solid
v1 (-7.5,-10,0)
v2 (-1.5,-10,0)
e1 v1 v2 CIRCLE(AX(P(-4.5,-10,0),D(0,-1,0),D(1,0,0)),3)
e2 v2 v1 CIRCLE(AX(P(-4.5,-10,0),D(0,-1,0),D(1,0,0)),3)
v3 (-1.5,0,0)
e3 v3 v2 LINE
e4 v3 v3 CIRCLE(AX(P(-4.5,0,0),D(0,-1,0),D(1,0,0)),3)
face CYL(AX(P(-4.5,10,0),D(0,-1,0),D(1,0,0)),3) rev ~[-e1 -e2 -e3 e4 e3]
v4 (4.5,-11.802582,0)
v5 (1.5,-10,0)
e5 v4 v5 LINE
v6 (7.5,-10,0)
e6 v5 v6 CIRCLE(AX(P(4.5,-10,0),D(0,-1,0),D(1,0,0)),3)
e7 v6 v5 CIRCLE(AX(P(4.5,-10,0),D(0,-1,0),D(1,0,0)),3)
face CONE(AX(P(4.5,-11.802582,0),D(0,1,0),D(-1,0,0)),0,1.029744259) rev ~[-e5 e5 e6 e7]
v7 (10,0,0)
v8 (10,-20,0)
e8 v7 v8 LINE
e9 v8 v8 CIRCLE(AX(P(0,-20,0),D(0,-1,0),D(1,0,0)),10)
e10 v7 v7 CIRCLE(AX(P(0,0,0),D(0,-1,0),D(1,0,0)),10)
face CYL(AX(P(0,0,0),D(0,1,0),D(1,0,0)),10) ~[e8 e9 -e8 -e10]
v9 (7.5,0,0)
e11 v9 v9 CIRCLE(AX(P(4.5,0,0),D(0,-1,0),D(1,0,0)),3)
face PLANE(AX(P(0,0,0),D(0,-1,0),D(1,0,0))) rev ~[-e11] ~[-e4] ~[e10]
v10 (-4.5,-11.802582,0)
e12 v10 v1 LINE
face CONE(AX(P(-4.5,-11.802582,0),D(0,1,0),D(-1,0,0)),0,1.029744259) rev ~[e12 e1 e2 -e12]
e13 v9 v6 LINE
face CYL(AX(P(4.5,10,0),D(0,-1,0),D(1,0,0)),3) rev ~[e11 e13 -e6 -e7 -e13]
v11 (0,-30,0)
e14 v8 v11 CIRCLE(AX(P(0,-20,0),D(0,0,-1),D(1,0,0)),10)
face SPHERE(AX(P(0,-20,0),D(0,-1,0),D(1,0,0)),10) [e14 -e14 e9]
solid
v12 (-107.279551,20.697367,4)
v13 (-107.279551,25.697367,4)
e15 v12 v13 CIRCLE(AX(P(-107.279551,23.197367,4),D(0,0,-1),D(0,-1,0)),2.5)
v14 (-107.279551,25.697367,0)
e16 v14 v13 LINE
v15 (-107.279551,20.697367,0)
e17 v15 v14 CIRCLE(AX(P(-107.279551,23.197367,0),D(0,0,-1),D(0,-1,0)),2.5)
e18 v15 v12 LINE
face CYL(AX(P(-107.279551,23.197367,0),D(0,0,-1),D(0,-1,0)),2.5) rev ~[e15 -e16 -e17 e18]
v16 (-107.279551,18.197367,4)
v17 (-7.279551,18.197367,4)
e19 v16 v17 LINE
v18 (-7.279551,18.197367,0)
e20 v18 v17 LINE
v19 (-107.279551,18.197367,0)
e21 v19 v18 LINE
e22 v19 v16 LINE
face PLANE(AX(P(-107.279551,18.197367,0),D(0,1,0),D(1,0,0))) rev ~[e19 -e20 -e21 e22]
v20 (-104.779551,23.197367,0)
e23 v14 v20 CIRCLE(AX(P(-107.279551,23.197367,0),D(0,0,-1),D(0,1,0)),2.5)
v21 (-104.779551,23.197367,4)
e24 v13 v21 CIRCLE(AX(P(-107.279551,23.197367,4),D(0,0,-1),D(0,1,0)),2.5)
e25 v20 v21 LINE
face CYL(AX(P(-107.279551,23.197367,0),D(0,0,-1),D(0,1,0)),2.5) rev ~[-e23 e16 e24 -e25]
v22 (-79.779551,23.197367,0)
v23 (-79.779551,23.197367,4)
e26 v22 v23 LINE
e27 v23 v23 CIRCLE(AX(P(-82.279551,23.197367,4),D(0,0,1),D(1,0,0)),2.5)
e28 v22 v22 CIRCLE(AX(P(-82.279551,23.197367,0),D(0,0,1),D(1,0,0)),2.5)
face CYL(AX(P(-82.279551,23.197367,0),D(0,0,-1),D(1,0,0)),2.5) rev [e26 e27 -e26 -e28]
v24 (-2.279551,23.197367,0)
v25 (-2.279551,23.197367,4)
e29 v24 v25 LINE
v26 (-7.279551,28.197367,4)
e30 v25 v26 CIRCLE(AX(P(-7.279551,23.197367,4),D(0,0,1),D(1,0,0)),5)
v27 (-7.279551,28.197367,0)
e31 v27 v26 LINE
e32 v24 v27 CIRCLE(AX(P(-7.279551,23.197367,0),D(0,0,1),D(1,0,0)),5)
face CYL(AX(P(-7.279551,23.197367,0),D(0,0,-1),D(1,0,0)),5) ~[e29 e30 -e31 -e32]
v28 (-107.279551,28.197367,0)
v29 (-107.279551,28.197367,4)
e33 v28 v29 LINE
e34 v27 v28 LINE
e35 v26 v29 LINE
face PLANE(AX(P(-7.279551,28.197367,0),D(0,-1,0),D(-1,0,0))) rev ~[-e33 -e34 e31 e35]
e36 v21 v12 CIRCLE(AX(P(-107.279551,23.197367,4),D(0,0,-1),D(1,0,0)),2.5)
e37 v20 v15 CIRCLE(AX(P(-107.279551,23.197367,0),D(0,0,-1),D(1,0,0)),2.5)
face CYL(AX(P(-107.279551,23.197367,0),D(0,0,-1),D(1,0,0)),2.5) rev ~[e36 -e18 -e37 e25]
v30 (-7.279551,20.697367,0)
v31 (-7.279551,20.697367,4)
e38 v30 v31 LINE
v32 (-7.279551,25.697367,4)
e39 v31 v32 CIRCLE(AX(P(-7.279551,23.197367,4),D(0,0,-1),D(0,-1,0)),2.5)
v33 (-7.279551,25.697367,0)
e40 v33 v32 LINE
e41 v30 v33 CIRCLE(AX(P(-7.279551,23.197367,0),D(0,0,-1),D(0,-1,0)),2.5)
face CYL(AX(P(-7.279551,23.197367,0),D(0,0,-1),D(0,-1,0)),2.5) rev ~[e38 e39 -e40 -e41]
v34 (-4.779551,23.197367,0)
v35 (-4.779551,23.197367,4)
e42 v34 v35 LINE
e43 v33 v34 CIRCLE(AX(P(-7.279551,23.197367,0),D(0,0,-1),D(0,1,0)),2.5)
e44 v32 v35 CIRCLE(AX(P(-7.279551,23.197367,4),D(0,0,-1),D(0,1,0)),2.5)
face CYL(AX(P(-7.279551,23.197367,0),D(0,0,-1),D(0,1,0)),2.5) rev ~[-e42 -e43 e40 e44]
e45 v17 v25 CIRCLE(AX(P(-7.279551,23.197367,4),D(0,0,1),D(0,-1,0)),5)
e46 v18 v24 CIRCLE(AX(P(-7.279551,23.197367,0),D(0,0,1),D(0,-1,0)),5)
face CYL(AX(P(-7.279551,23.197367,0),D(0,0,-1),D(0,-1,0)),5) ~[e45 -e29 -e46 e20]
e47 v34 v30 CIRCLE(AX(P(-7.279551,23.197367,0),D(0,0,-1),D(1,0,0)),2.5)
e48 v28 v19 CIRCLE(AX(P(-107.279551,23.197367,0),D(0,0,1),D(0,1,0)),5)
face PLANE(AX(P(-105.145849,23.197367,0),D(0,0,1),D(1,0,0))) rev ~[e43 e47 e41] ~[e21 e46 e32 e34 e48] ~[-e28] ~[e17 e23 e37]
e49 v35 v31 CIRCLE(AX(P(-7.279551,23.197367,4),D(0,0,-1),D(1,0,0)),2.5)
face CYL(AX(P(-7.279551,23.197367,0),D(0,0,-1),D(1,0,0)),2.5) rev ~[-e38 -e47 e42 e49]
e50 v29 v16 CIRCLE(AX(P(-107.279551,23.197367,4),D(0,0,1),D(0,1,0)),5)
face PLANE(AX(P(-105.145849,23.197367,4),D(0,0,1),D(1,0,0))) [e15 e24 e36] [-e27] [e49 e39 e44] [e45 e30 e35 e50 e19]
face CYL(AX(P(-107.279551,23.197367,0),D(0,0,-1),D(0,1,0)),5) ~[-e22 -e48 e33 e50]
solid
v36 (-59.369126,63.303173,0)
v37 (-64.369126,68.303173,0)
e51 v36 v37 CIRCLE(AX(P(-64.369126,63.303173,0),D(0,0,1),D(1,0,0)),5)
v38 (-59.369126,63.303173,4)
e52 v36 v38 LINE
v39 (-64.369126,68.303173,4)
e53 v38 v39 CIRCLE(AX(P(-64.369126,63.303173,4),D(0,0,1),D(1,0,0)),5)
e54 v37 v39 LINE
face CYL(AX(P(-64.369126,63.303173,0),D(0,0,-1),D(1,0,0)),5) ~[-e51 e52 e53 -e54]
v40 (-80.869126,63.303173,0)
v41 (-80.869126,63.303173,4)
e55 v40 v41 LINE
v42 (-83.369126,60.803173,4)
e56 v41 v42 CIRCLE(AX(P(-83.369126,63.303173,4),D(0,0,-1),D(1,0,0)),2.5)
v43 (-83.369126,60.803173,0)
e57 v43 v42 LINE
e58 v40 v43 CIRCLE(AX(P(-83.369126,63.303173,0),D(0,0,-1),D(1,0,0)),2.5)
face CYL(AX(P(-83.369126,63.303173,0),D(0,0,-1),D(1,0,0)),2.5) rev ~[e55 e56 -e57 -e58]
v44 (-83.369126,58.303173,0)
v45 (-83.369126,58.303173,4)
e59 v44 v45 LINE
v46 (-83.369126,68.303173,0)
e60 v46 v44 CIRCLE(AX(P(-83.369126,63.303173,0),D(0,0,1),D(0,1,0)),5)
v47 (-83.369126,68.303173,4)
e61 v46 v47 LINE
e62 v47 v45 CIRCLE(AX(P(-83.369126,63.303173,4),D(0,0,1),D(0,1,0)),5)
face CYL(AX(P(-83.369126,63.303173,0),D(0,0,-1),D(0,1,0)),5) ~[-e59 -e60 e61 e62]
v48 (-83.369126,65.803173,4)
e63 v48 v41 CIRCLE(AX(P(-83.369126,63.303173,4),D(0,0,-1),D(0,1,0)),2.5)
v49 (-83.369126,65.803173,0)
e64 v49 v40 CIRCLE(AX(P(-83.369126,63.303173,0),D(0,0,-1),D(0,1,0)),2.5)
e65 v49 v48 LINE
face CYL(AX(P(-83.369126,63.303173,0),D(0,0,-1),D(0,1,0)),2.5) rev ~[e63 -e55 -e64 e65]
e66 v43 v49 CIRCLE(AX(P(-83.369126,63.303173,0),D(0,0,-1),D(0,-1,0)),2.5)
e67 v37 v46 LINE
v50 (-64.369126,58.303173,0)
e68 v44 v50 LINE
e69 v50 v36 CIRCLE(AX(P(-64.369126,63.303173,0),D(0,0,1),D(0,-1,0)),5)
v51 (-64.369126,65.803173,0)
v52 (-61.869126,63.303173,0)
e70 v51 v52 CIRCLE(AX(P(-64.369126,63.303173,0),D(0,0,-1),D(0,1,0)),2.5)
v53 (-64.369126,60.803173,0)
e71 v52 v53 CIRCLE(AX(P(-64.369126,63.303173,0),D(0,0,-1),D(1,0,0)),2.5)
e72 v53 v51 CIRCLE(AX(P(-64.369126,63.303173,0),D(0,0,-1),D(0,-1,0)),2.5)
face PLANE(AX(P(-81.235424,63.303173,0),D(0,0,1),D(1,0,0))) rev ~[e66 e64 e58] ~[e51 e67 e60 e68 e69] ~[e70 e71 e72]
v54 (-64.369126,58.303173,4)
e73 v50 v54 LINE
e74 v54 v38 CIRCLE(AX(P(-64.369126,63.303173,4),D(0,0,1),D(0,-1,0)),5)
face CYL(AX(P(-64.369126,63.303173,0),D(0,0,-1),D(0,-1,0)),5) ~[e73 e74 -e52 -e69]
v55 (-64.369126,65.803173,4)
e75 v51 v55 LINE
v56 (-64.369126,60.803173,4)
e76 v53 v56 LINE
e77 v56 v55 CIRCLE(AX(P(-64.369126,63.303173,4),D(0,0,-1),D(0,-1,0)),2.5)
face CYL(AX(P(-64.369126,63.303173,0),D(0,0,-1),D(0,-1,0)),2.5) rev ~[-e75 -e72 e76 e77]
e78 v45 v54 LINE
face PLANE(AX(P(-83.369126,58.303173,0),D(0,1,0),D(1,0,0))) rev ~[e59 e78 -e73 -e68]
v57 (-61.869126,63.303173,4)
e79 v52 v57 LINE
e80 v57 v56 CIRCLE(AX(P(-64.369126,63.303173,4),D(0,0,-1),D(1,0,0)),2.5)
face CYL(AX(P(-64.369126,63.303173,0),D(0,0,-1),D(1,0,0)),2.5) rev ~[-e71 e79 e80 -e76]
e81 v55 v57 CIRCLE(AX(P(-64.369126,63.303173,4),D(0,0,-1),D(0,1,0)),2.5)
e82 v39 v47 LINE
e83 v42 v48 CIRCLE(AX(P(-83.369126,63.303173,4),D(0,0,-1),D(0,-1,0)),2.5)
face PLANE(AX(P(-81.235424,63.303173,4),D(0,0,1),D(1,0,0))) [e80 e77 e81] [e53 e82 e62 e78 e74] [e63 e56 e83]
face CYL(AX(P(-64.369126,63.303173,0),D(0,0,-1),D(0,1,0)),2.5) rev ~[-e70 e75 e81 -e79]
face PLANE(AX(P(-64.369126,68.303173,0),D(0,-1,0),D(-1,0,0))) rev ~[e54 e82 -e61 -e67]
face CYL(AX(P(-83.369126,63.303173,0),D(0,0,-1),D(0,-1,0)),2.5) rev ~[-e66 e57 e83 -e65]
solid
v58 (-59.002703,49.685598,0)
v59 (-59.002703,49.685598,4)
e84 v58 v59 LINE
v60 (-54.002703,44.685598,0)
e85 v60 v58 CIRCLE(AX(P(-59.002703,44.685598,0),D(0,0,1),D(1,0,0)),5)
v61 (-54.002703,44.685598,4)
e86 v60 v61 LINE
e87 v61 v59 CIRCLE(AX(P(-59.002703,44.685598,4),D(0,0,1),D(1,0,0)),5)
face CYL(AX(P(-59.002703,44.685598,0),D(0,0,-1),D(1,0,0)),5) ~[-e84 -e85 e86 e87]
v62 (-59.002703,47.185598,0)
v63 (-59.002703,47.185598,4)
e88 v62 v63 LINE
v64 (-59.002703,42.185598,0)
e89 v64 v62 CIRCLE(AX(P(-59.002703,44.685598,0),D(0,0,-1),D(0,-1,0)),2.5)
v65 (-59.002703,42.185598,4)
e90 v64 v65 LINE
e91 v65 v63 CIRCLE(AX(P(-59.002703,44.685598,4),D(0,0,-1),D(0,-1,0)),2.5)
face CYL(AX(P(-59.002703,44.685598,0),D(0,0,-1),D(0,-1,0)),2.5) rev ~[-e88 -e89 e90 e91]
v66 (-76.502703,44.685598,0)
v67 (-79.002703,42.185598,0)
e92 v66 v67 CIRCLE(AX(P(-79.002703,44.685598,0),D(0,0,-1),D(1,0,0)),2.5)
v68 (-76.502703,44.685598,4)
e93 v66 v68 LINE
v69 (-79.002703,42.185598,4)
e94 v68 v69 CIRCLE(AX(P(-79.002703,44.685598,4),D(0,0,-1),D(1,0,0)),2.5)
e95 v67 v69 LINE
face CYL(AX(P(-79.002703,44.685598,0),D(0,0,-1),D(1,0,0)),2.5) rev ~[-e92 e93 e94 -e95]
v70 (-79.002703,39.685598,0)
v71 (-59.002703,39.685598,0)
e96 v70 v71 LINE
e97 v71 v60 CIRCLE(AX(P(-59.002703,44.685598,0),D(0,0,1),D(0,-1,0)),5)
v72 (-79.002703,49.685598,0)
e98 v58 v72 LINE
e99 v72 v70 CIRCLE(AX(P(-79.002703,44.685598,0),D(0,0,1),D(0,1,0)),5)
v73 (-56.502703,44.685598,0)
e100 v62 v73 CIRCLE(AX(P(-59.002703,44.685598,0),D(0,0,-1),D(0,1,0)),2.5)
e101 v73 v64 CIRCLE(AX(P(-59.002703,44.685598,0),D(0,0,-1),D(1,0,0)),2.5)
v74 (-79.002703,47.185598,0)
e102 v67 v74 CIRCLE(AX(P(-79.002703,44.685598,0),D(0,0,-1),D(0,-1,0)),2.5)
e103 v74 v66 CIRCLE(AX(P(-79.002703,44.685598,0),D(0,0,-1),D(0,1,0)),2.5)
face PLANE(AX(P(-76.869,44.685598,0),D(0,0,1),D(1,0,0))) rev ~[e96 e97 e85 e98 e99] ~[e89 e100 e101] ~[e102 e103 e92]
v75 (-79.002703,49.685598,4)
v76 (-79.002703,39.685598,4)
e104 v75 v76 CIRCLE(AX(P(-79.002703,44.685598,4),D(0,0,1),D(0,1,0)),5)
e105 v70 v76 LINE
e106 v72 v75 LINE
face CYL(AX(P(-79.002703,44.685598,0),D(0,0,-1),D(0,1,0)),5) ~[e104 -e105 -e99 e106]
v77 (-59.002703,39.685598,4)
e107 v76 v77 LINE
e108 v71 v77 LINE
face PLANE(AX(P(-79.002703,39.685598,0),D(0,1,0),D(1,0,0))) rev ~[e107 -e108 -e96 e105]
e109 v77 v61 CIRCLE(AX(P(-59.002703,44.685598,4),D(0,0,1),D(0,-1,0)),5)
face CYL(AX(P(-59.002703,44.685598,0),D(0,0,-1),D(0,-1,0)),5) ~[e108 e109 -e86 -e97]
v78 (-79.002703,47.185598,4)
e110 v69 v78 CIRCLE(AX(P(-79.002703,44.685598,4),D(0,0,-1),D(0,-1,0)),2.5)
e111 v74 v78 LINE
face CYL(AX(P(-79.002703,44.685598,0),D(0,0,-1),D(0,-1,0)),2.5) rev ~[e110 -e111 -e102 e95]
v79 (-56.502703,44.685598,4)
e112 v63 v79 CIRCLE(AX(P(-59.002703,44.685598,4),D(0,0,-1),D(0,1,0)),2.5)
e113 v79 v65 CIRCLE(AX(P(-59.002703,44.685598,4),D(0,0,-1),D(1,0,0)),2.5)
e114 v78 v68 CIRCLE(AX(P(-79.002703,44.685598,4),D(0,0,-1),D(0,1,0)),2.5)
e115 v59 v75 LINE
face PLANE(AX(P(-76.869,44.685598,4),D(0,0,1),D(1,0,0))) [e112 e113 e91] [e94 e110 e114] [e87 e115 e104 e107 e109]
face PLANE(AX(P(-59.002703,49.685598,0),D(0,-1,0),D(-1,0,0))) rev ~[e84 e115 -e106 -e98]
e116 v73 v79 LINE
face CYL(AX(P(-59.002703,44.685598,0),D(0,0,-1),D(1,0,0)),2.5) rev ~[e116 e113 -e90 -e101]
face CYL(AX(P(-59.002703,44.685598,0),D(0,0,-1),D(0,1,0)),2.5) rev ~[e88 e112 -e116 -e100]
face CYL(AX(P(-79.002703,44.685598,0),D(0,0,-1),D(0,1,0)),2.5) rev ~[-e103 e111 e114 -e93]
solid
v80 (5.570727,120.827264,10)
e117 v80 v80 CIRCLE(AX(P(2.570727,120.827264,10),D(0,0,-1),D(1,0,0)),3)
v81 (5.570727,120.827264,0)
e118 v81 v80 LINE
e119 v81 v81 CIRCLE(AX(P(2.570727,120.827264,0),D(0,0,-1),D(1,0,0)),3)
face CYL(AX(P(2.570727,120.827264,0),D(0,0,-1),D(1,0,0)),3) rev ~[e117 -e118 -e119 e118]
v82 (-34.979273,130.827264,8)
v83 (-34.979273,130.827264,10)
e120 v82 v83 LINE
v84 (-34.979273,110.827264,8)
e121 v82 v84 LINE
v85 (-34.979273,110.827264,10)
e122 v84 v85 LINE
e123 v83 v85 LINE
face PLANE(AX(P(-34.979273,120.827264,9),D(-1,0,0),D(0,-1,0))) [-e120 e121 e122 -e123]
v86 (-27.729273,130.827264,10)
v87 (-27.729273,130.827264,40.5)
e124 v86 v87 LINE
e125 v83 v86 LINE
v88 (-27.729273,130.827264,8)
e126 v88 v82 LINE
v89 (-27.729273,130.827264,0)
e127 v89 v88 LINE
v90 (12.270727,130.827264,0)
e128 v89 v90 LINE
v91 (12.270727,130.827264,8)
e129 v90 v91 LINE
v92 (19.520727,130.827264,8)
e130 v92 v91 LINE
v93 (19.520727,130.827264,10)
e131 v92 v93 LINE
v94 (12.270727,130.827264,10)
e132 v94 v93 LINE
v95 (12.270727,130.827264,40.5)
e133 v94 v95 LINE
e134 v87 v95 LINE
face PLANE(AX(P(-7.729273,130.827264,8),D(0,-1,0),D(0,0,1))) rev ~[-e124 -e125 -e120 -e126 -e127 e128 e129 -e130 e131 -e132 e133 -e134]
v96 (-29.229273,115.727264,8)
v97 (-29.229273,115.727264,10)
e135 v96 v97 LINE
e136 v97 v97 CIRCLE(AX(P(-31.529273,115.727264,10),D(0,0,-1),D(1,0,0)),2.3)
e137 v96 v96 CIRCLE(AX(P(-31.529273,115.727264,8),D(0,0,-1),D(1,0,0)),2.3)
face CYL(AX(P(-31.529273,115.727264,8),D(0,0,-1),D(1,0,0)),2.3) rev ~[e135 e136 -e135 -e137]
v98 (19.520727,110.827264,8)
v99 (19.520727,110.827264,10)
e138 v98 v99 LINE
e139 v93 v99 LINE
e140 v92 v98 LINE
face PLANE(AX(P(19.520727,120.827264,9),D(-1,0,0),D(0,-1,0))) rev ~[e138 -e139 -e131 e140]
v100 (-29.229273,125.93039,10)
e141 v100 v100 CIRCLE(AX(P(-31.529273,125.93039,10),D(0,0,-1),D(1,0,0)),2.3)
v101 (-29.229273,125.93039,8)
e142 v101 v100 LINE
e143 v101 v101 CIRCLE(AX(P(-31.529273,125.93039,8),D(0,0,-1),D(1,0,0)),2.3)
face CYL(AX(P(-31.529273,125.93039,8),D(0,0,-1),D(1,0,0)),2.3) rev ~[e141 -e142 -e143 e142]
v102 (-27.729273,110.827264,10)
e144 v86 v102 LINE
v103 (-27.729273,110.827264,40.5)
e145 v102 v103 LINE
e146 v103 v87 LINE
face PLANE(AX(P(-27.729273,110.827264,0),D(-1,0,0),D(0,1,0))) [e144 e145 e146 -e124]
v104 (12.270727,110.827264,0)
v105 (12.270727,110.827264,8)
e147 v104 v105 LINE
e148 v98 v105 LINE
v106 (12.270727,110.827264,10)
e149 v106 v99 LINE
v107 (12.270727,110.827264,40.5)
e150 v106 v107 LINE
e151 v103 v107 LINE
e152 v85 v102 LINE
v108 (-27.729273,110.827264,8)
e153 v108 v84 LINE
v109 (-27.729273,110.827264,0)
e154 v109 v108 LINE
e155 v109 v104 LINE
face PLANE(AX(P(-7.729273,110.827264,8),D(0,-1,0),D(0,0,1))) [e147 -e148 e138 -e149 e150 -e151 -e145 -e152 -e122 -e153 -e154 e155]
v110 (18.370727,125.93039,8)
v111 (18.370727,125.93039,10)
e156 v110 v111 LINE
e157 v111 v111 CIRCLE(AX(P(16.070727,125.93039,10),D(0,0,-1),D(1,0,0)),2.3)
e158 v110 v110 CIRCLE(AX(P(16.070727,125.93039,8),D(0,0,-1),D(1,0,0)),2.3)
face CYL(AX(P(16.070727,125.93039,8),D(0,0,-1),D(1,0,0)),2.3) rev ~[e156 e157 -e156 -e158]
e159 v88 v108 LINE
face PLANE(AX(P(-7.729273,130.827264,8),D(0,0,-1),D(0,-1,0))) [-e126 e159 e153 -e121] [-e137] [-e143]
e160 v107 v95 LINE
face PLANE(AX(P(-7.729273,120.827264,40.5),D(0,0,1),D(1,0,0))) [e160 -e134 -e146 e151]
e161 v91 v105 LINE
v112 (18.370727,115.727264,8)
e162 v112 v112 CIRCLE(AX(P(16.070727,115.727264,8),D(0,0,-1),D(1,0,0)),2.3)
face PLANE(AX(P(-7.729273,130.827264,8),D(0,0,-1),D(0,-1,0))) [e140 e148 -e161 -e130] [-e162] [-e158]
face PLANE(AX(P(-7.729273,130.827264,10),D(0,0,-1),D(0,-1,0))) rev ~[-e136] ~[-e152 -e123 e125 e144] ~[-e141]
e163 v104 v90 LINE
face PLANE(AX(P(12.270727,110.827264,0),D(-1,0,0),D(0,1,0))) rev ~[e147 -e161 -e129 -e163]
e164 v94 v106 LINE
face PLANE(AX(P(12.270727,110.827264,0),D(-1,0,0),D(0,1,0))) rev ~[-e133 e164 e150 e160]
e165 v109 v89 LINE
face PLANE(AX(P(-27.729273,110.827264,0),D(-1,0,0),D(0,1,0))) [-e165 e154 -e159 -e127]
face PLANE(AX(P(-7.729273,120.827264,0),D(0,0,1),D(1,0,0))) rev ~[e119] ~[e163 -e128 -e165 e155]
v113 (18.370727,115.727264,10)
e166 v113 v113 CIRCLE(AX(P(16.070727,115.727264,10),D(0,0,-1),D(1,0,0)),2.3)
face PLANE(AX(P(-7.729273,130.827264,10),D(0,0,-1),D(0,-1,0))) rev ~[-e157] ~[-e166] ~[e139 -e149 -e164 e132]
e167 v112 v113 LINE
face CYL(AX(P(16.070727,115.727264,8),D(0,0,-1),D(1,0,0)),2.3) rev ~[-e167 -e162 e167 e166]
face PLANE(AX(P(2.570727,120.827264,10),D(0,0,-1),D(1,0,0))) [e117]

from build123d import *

# Parameters (mm, degrees)
F0_R      = 10
F1_DEPTH  = 30
F2_R      = 10
F4_D      = 6
F4_DEPTH  = 10
F4_TIP    = 1.8025818571
F7_W      = 40
F7_H      = 20
F8_DEPTH  = 40.5
F10_W     = 20
F10_H     = 2
F11_DEPTH = 27.25
F12_R     = 3
F13_DEPTH = 10
F14_R     = 2.3
F15_DEPTH = 3
F17_DEPTH = 4
F18_R     = 2.5
F19_DEPTH = 4
F21_DEPTH = 4


with BuildPart() as f1:
    # F0 (on Front) → F1 (new body)
    with BuildSketch(Plane.XZ):
        Circle(F0_R)
    extrude(amount=F1_DEPTH)

    # F2
    f2_edges = [f1.edges().sort_by_distance(p)[0] for p in [
        (-10, -30, 0),
    ]]
    fillet(f2_edges, radius=F2_R)

    # F4
    with Locations(Plane(origin=(0, 0, 0), x_dir=(-1, 0, 0), z_dir=(0, 1, 0))):
        with Locations((-4.5, 0), (4.5, 0)):
            Hole(F4_D / 2, depth=F4_DEPTH)
            with Locations((0, 0, -(F4_DEPTH + F4_TIP / 2))):  # 118° drill point
                Cone(0, F4_D / 2, F4_TIP, mode=Mode.SUBTRACT)


with BuildPart() as f8:
    # F7 (on Top) → F8 (new body)
    with BuildSketch(Plane.XY):
        with Locations((-7.7292732894, 120.8272636564)):
            Rectangle(F7_W, F7_H)
    extrude(amount=F8_DEPTH)

    # F10 (on offset) → F11 (join, symmetric)
    with BuildSketch(Plane(origin=(-7.7292732894, 0, 0), x_dir=(0, -1, 0), z_dir=(-1, 0, 0))):
        with Locations((-120.8272636564, 9)):
            Rectangle(F10_W, F10_H)
    extrude(amount=F11_DEPTH, both=True)

    # F12 (on face) → F13 (cut)
    with BuildSketch(Plane(origin=(0, 0, 0), x_dir=(1, 0, 0), z_dir=(0, 0, -1))):
        with Locations((2.5707267106, -120.8272636564)):
            Circle(F12_R)
    extrude(amount=-F13_DEPTH, mode=Mode.SUBTRACT)

    # F14 (on face) → F15 (cut)
    with BuildSketch(Plane(origin=(0, 0, 8), x_dir=(1, 0, 0), z_dir=(0, 0, -1))):
        with Locations((16.0707267106, -115.7272636564)):
            Circle(F14_R)
        with Locations((16.0707267106, -125.9303896535)):
            Circle(F14_R)
        with Locations((-31.5292732894, -125.9303896535)):
            Circle(F14_R)
        with Locations((-31.5292732894, -115.7272636564)):
            Circle(F14_R)
    extrude(amount=-F15_DEPTH, mode=Mode.SUBTRACT)


with BuildPart() as f17:
    # F16 (on Top) → F17 (new body)
    with BuildSketch(Plane.XY):
        with BuildLine():
            ThreePointArc((-79.0027027001, 39.6855981151), (-75.4671687942, 41.1500642091), (-74.0027027001, 44.6855981151))
            ThreePointArc((-74.0027027001, 44.6855981151), (-75.4671687942, 48.221132021), (-79.0027027001, 49.6855981151))
            Line((-79.0027027001, 49.6855981151), (-79.0027027001, 47.1855981151))
            ThreePointArc((-79.0027027001, 47.1855981151), (-77.2349357472, 46.453365068), (-76.5027027001, 44.6855981151))
            ThreePointArc((-76.5027027001, 44.6855981151), (-77.2349357472, 42.9178311621), (-79.0027027001, 42.1855981151))
            Line((-79.0027027001, 42.1855981151), (-79.0027027001, 39.6855981151))
        make_face()
        with BuildLine():
            ThreePointArc((-79.0027027001, 49.6855981151), (-75.4671687942, 48.221132021), (-74.0027027001, 44.6855981151))
            ThreePointArc((-74.0027027001, 44.6855981151), (-75.4671687942, 41.1500642091), (-79.0027027001, 39.6855981151))
            Line((-79.0027027001, 39.6855981151), (-59.0027027001, 39.6855981151))
            ThreePointArc((-59.0027027001, 39.6855981151), (-64.0027027001, 44.6855981151), (-59.0027027001, 49.6855981151))
            Line((-59.0027027001, 49.6855981151), (-79.0027027001, 49.6855981151))
        make_face()
        with BuildLine():
            Line((-79.0027027001, 47.1855981151), (-79.0027027001, 49.6855981151))
            ThreePointArc((-79.0027027001, 49.6855981151), (-84.0027027001, 44.6855981151), (-79.0027027001, 39.6855981151))
            Line((-79.0027027001, 39.6855981151), (-79.0027027001, 42.1855981151))
            ThreePointArc((-79.0027027001, 42.1855981151), (-81.5027027001, 44.6855981151), (-79.0027027001, 47.1855981151))
        make_face()
        with BuildLine():
            ThreePointArc((-54.0027027001, 44.6855981151), (-55.4671687942, 48.221132021), (-59.0027027001, 49.6855981151))
            Line((-59.0027027001, 49.6855981151), (-59.0027027001, 47.1855981151))
            ThreePointArc((-59.0027027001, 47.1855981151), (-57.2349357472, 46.453365068), (-56.5027027001, 44.6855981151))
            ThreePointArc((-56.5027027001, 44.6855981151), (-57.2349357472, 42.9178311621), (-59.0027027001, 42.1855981151))
            Line((-59.0027027001, 42.1855981151), (-59.0027027001, 39.6855981151))
            ThreePointArc((-59.0027027001, 39.6855981151), (-55.4671687942, 41.1500642091), (-54.0027027001, 44.6855981151))
        make_face()
        with BuildLine():
            Line((-59.0027027001, 47.1855981151), (-59.0027027001, 49.6855981151))
            ThreePointArc((-59.0027027001, 49.6855981151), (-64.0027027001, 44.6855981151), (-59.0027027001, 39.6855981151))
            Line((-59.0027027001, 39.6855981151), (-59.0027027001, 42.1855981151))
            ThreePointArc((-59.0027027001, 42.1855981151), (-61.5027027001, 44.6855981151), (-59.0027027001, 47.1855981151))
        make_face()
    extrude(amount=F17_DEPTH)


with BuildPart() as f19:
    # F18 (on Top) → F19 (new body)
    with BuildSketch(Plane.XY):
        with BuildLine():
            ThreePointArc((-107.2795514017, 18.1973667862), (-103.7440174958, 19.6618328803), (-102.2795514017, 23.1973667862))
            ThreePointArc((-102.2795514017, 23.1973667862), (-103.7440174958, 26.7329006921), (-107.2795514017, 28.1973667862))
            Line((-107.2795514017, 28.1973667862), (-107.2795514017, 25.6973667862))
            ThreePointArc((-107.2795514017, 25.6973667862), (-105.5117844488, 24.9651337392), (-104.7795514017, 23.1973667862))
            ThreePointArc((-104.7795514017, 23.1973667862), (-105.5117844488, 21.4295998332), (-107.2795514017, 20.6973667862))
            Line((-107.2795514017, 20.6973667862), (-107.2795514017, 18.1973667862))
        make_face()
        with BuildLine():
            ThreePointArc((-107.2795514017, 28.1973667862), (-103.7440174958, 26.7329006921), (-102.2795514017, 23.1973667862))
            ThreePointArc((-102.2795514017, 23.1973667862), (-103.7440174958, 19.6618328803), (-107.2795514017, 18.1973667862))
            Line((-107.2795514017, 18.1973667862), (-7.2795514017, 18.1973667862))
            ThreePointArc((-7.2795514017, 18.1973667862), (-12.2795514017, 23.1973667862), (-7.2795514017, 28.1973667862))
            Line((-7.2795514017, 28.1973667862), (-107.2795514017, 28.1973667862))
        make_face()
        with Locations((-82.2795514017, 23.1973667862)):
            Circle(F18_R, mode=Mode.SUBTRACT)
        with BuildLine():
            Line((-107.2795514017, 25.6973667862), (-107.2795514017, 28.1973667862))
            ThreePointArc((-107.2795514017, 28.1973667862), (-112.2795514017, 23.1973667862), (-107.2795514017, 18.1973667862))
            Line((-107.2795514017, 18.1973667862), (-107.2795514017, 20.6973667862))
            ThreePointArc((-107.2795514017, 20.6973667862), (-109.7795514017, 23.1973667862), (-107.2795514017, 25.6973667862))
        make_face()
        with BuildLine():
            ThreePointArc((-2.2795514017, 23.1973667862), (-3.7440174958, 26.7329006921), (-7.2795514017, 28.1973667862))
            Line((-7.2795514017, 28.1973667862), (-7.2795514017, 25.6973667862))
            ThreePointArc((-7.2795514017, 25.6973667862), (-5.5117844488, 24.9651337392), (-4.7795514017, 23.1973667862))
            ThreePointArc((-4.7795514017, 23.1973667862), (-5.5117844488, 21.4295998332), (-7.2795514017, 20.6973667862))
            Line((-7.2795514017, 20.6973667862), (-7.2795514017, 18.1973667862))
            ThreePointArc((-7.2795514017, 18.1973667862), (-3.7440174958, 19.6618328803), (-2.2795514017, 23.1973667862))
        make_face()
        with BuildLine():
            Line((-7.2795514017, 25.6973667862), (-7.2795514017, 28.1973667862))
            ThreePointArc((-7.2795514017, 28.1973667862), (-12.2795514017, 23.1973667862), (-7.2795514017, 18.1973667862))
            Line((-7.2795514017, 18.1973667862), (-7.2795514017, 20.6973667862))
            ThreePointArc((-7.2795514017, 20.6973667862), (-9.7795514017, 23.1973667862), (-7.2795514017, 25.6973667862))
        make_face()
    extrude(amount=F19_DEPTH)


with BuildPart() as f21:
    # F20 (on Top) → F21 (new body)
    with BuildSketch(Plane.XY):
        with BuildLine():
            ThreePointArc((-83.3691260087, 58.3031725883), (-79.8335921028, 59.7676386824), (-78.3691260087, 63.3031725883))
            ThreePointArc((-78.3691260087, 63.3031725883), (-79.8335921028, 66.8387064943), (-83.3691260087, 68.3031725883))
            Line((-83.3691260087, 68.3031725883), (-83.3691260087, 65.8031725883))
            ThreePointArc((-83.3691260087, 65.8031725883), (-81.6013590558, 65.0709395413), (-80.8691260087, 63.3031725883))
            ThreePointArc((-80.8691260087, 63.3031725883), (-81.6013590558, 61.5354056354), (-83.3691260087, 60.8031725883))
            Line((-83.3691260087, 60.8031725883), (-83.3691260087, 58.3031725883))
        make_face()
        with BuildLine():
            ThreePointArc((-83.3691260087, 68.3031725883), (-79.8335921028, 66.8387064943), (-78.3691260087, 63.3031725883))
            ThreePointArc((-78.3691260087, 63.3031725883), (-79.8335921028, 59.7676386824), (-83.3691260087, 58.3031725883))
            Line((-83.3691260087, 58.3031725883), (-64.3691260087, 58.3031725883))
            ThreePointArc((-64.3691260087, 58.3031725883), (-69.3691260087, 63.3031725883), (-64.3691260087, 68.3031725883))
            Line((-64.3691260087, 68.3031725883), (-83.3691260087, 68.3031725883))
        make_face()
        with BuildLine():
            Line((-83.3691260087, 65.8031725883), (-83.3691260087, 68.3031725883))
            ThreePointArc((-83.3691260087, 68.3031725883), (-88.3691260087, 63.3031725883), (-83.3691260087, 58.3031725883))
            Line((-83.3691260087, 58.3031725883), (-83.3691260087, 60.8031725883))
            ThreePointArc((-83.3691260087, 60.8031725883), (-85.8691260087, 63.3031725883), (-83.3691260087, 65.8031725883))
        make_face()
        with BuildLine():
            Line((-64.3691260087, 65.8031725883), (-64.3691260087, 68.3031725883))
            ThreePointArc((-64.3691260087, 68.3031725883), (-69.3691260087, 63.3031725883), (-64.3691260087, 58.3031725883))
            Line((-64.3691260087, 58.3031725883), (-64.3691260087, 60.8031725883))
            ThreePointArc((-64.3691260087, 60.8031725883), (-66.8691260087, 63.3031725883), (-64.3691260087, 65.8031725883))
        make_face()
        with BuildLine():
            ThreePointArc((-59.3691260087, 63.3031725883), (-60.8335921028, 66.8387064943), (-64.3691260087, 68.3031725883))
            Line((-64.3691260087, 68.3031725883), (-64.3691260087, 65.8031725883))
            ThreePointArc((-64.3691260087, 65.8031725883), (-62.6013590558, 65.0709395413), (-61.8691260087, 63.3031725883))
            ThreePointArc((-61.8691260087, 63.3031725883), (-62.6013590558, 61.5354056354), (-64.3691260087, 60.8031725883))
            Line((-64.3691260087, 60.8031725883), (-64.3691260087, 58.3031725883))
            ThreePointArc((-64.3691260087, 58.3031725883), (-60.8335921028, 59.7676386824), (-59.3691260087, 63.3031725883))
        make_face()
    extrude(amount=F21_DEPTH)


solid = Compound([f1.part, f8.part, f17.part, f19.part, f21.part])
